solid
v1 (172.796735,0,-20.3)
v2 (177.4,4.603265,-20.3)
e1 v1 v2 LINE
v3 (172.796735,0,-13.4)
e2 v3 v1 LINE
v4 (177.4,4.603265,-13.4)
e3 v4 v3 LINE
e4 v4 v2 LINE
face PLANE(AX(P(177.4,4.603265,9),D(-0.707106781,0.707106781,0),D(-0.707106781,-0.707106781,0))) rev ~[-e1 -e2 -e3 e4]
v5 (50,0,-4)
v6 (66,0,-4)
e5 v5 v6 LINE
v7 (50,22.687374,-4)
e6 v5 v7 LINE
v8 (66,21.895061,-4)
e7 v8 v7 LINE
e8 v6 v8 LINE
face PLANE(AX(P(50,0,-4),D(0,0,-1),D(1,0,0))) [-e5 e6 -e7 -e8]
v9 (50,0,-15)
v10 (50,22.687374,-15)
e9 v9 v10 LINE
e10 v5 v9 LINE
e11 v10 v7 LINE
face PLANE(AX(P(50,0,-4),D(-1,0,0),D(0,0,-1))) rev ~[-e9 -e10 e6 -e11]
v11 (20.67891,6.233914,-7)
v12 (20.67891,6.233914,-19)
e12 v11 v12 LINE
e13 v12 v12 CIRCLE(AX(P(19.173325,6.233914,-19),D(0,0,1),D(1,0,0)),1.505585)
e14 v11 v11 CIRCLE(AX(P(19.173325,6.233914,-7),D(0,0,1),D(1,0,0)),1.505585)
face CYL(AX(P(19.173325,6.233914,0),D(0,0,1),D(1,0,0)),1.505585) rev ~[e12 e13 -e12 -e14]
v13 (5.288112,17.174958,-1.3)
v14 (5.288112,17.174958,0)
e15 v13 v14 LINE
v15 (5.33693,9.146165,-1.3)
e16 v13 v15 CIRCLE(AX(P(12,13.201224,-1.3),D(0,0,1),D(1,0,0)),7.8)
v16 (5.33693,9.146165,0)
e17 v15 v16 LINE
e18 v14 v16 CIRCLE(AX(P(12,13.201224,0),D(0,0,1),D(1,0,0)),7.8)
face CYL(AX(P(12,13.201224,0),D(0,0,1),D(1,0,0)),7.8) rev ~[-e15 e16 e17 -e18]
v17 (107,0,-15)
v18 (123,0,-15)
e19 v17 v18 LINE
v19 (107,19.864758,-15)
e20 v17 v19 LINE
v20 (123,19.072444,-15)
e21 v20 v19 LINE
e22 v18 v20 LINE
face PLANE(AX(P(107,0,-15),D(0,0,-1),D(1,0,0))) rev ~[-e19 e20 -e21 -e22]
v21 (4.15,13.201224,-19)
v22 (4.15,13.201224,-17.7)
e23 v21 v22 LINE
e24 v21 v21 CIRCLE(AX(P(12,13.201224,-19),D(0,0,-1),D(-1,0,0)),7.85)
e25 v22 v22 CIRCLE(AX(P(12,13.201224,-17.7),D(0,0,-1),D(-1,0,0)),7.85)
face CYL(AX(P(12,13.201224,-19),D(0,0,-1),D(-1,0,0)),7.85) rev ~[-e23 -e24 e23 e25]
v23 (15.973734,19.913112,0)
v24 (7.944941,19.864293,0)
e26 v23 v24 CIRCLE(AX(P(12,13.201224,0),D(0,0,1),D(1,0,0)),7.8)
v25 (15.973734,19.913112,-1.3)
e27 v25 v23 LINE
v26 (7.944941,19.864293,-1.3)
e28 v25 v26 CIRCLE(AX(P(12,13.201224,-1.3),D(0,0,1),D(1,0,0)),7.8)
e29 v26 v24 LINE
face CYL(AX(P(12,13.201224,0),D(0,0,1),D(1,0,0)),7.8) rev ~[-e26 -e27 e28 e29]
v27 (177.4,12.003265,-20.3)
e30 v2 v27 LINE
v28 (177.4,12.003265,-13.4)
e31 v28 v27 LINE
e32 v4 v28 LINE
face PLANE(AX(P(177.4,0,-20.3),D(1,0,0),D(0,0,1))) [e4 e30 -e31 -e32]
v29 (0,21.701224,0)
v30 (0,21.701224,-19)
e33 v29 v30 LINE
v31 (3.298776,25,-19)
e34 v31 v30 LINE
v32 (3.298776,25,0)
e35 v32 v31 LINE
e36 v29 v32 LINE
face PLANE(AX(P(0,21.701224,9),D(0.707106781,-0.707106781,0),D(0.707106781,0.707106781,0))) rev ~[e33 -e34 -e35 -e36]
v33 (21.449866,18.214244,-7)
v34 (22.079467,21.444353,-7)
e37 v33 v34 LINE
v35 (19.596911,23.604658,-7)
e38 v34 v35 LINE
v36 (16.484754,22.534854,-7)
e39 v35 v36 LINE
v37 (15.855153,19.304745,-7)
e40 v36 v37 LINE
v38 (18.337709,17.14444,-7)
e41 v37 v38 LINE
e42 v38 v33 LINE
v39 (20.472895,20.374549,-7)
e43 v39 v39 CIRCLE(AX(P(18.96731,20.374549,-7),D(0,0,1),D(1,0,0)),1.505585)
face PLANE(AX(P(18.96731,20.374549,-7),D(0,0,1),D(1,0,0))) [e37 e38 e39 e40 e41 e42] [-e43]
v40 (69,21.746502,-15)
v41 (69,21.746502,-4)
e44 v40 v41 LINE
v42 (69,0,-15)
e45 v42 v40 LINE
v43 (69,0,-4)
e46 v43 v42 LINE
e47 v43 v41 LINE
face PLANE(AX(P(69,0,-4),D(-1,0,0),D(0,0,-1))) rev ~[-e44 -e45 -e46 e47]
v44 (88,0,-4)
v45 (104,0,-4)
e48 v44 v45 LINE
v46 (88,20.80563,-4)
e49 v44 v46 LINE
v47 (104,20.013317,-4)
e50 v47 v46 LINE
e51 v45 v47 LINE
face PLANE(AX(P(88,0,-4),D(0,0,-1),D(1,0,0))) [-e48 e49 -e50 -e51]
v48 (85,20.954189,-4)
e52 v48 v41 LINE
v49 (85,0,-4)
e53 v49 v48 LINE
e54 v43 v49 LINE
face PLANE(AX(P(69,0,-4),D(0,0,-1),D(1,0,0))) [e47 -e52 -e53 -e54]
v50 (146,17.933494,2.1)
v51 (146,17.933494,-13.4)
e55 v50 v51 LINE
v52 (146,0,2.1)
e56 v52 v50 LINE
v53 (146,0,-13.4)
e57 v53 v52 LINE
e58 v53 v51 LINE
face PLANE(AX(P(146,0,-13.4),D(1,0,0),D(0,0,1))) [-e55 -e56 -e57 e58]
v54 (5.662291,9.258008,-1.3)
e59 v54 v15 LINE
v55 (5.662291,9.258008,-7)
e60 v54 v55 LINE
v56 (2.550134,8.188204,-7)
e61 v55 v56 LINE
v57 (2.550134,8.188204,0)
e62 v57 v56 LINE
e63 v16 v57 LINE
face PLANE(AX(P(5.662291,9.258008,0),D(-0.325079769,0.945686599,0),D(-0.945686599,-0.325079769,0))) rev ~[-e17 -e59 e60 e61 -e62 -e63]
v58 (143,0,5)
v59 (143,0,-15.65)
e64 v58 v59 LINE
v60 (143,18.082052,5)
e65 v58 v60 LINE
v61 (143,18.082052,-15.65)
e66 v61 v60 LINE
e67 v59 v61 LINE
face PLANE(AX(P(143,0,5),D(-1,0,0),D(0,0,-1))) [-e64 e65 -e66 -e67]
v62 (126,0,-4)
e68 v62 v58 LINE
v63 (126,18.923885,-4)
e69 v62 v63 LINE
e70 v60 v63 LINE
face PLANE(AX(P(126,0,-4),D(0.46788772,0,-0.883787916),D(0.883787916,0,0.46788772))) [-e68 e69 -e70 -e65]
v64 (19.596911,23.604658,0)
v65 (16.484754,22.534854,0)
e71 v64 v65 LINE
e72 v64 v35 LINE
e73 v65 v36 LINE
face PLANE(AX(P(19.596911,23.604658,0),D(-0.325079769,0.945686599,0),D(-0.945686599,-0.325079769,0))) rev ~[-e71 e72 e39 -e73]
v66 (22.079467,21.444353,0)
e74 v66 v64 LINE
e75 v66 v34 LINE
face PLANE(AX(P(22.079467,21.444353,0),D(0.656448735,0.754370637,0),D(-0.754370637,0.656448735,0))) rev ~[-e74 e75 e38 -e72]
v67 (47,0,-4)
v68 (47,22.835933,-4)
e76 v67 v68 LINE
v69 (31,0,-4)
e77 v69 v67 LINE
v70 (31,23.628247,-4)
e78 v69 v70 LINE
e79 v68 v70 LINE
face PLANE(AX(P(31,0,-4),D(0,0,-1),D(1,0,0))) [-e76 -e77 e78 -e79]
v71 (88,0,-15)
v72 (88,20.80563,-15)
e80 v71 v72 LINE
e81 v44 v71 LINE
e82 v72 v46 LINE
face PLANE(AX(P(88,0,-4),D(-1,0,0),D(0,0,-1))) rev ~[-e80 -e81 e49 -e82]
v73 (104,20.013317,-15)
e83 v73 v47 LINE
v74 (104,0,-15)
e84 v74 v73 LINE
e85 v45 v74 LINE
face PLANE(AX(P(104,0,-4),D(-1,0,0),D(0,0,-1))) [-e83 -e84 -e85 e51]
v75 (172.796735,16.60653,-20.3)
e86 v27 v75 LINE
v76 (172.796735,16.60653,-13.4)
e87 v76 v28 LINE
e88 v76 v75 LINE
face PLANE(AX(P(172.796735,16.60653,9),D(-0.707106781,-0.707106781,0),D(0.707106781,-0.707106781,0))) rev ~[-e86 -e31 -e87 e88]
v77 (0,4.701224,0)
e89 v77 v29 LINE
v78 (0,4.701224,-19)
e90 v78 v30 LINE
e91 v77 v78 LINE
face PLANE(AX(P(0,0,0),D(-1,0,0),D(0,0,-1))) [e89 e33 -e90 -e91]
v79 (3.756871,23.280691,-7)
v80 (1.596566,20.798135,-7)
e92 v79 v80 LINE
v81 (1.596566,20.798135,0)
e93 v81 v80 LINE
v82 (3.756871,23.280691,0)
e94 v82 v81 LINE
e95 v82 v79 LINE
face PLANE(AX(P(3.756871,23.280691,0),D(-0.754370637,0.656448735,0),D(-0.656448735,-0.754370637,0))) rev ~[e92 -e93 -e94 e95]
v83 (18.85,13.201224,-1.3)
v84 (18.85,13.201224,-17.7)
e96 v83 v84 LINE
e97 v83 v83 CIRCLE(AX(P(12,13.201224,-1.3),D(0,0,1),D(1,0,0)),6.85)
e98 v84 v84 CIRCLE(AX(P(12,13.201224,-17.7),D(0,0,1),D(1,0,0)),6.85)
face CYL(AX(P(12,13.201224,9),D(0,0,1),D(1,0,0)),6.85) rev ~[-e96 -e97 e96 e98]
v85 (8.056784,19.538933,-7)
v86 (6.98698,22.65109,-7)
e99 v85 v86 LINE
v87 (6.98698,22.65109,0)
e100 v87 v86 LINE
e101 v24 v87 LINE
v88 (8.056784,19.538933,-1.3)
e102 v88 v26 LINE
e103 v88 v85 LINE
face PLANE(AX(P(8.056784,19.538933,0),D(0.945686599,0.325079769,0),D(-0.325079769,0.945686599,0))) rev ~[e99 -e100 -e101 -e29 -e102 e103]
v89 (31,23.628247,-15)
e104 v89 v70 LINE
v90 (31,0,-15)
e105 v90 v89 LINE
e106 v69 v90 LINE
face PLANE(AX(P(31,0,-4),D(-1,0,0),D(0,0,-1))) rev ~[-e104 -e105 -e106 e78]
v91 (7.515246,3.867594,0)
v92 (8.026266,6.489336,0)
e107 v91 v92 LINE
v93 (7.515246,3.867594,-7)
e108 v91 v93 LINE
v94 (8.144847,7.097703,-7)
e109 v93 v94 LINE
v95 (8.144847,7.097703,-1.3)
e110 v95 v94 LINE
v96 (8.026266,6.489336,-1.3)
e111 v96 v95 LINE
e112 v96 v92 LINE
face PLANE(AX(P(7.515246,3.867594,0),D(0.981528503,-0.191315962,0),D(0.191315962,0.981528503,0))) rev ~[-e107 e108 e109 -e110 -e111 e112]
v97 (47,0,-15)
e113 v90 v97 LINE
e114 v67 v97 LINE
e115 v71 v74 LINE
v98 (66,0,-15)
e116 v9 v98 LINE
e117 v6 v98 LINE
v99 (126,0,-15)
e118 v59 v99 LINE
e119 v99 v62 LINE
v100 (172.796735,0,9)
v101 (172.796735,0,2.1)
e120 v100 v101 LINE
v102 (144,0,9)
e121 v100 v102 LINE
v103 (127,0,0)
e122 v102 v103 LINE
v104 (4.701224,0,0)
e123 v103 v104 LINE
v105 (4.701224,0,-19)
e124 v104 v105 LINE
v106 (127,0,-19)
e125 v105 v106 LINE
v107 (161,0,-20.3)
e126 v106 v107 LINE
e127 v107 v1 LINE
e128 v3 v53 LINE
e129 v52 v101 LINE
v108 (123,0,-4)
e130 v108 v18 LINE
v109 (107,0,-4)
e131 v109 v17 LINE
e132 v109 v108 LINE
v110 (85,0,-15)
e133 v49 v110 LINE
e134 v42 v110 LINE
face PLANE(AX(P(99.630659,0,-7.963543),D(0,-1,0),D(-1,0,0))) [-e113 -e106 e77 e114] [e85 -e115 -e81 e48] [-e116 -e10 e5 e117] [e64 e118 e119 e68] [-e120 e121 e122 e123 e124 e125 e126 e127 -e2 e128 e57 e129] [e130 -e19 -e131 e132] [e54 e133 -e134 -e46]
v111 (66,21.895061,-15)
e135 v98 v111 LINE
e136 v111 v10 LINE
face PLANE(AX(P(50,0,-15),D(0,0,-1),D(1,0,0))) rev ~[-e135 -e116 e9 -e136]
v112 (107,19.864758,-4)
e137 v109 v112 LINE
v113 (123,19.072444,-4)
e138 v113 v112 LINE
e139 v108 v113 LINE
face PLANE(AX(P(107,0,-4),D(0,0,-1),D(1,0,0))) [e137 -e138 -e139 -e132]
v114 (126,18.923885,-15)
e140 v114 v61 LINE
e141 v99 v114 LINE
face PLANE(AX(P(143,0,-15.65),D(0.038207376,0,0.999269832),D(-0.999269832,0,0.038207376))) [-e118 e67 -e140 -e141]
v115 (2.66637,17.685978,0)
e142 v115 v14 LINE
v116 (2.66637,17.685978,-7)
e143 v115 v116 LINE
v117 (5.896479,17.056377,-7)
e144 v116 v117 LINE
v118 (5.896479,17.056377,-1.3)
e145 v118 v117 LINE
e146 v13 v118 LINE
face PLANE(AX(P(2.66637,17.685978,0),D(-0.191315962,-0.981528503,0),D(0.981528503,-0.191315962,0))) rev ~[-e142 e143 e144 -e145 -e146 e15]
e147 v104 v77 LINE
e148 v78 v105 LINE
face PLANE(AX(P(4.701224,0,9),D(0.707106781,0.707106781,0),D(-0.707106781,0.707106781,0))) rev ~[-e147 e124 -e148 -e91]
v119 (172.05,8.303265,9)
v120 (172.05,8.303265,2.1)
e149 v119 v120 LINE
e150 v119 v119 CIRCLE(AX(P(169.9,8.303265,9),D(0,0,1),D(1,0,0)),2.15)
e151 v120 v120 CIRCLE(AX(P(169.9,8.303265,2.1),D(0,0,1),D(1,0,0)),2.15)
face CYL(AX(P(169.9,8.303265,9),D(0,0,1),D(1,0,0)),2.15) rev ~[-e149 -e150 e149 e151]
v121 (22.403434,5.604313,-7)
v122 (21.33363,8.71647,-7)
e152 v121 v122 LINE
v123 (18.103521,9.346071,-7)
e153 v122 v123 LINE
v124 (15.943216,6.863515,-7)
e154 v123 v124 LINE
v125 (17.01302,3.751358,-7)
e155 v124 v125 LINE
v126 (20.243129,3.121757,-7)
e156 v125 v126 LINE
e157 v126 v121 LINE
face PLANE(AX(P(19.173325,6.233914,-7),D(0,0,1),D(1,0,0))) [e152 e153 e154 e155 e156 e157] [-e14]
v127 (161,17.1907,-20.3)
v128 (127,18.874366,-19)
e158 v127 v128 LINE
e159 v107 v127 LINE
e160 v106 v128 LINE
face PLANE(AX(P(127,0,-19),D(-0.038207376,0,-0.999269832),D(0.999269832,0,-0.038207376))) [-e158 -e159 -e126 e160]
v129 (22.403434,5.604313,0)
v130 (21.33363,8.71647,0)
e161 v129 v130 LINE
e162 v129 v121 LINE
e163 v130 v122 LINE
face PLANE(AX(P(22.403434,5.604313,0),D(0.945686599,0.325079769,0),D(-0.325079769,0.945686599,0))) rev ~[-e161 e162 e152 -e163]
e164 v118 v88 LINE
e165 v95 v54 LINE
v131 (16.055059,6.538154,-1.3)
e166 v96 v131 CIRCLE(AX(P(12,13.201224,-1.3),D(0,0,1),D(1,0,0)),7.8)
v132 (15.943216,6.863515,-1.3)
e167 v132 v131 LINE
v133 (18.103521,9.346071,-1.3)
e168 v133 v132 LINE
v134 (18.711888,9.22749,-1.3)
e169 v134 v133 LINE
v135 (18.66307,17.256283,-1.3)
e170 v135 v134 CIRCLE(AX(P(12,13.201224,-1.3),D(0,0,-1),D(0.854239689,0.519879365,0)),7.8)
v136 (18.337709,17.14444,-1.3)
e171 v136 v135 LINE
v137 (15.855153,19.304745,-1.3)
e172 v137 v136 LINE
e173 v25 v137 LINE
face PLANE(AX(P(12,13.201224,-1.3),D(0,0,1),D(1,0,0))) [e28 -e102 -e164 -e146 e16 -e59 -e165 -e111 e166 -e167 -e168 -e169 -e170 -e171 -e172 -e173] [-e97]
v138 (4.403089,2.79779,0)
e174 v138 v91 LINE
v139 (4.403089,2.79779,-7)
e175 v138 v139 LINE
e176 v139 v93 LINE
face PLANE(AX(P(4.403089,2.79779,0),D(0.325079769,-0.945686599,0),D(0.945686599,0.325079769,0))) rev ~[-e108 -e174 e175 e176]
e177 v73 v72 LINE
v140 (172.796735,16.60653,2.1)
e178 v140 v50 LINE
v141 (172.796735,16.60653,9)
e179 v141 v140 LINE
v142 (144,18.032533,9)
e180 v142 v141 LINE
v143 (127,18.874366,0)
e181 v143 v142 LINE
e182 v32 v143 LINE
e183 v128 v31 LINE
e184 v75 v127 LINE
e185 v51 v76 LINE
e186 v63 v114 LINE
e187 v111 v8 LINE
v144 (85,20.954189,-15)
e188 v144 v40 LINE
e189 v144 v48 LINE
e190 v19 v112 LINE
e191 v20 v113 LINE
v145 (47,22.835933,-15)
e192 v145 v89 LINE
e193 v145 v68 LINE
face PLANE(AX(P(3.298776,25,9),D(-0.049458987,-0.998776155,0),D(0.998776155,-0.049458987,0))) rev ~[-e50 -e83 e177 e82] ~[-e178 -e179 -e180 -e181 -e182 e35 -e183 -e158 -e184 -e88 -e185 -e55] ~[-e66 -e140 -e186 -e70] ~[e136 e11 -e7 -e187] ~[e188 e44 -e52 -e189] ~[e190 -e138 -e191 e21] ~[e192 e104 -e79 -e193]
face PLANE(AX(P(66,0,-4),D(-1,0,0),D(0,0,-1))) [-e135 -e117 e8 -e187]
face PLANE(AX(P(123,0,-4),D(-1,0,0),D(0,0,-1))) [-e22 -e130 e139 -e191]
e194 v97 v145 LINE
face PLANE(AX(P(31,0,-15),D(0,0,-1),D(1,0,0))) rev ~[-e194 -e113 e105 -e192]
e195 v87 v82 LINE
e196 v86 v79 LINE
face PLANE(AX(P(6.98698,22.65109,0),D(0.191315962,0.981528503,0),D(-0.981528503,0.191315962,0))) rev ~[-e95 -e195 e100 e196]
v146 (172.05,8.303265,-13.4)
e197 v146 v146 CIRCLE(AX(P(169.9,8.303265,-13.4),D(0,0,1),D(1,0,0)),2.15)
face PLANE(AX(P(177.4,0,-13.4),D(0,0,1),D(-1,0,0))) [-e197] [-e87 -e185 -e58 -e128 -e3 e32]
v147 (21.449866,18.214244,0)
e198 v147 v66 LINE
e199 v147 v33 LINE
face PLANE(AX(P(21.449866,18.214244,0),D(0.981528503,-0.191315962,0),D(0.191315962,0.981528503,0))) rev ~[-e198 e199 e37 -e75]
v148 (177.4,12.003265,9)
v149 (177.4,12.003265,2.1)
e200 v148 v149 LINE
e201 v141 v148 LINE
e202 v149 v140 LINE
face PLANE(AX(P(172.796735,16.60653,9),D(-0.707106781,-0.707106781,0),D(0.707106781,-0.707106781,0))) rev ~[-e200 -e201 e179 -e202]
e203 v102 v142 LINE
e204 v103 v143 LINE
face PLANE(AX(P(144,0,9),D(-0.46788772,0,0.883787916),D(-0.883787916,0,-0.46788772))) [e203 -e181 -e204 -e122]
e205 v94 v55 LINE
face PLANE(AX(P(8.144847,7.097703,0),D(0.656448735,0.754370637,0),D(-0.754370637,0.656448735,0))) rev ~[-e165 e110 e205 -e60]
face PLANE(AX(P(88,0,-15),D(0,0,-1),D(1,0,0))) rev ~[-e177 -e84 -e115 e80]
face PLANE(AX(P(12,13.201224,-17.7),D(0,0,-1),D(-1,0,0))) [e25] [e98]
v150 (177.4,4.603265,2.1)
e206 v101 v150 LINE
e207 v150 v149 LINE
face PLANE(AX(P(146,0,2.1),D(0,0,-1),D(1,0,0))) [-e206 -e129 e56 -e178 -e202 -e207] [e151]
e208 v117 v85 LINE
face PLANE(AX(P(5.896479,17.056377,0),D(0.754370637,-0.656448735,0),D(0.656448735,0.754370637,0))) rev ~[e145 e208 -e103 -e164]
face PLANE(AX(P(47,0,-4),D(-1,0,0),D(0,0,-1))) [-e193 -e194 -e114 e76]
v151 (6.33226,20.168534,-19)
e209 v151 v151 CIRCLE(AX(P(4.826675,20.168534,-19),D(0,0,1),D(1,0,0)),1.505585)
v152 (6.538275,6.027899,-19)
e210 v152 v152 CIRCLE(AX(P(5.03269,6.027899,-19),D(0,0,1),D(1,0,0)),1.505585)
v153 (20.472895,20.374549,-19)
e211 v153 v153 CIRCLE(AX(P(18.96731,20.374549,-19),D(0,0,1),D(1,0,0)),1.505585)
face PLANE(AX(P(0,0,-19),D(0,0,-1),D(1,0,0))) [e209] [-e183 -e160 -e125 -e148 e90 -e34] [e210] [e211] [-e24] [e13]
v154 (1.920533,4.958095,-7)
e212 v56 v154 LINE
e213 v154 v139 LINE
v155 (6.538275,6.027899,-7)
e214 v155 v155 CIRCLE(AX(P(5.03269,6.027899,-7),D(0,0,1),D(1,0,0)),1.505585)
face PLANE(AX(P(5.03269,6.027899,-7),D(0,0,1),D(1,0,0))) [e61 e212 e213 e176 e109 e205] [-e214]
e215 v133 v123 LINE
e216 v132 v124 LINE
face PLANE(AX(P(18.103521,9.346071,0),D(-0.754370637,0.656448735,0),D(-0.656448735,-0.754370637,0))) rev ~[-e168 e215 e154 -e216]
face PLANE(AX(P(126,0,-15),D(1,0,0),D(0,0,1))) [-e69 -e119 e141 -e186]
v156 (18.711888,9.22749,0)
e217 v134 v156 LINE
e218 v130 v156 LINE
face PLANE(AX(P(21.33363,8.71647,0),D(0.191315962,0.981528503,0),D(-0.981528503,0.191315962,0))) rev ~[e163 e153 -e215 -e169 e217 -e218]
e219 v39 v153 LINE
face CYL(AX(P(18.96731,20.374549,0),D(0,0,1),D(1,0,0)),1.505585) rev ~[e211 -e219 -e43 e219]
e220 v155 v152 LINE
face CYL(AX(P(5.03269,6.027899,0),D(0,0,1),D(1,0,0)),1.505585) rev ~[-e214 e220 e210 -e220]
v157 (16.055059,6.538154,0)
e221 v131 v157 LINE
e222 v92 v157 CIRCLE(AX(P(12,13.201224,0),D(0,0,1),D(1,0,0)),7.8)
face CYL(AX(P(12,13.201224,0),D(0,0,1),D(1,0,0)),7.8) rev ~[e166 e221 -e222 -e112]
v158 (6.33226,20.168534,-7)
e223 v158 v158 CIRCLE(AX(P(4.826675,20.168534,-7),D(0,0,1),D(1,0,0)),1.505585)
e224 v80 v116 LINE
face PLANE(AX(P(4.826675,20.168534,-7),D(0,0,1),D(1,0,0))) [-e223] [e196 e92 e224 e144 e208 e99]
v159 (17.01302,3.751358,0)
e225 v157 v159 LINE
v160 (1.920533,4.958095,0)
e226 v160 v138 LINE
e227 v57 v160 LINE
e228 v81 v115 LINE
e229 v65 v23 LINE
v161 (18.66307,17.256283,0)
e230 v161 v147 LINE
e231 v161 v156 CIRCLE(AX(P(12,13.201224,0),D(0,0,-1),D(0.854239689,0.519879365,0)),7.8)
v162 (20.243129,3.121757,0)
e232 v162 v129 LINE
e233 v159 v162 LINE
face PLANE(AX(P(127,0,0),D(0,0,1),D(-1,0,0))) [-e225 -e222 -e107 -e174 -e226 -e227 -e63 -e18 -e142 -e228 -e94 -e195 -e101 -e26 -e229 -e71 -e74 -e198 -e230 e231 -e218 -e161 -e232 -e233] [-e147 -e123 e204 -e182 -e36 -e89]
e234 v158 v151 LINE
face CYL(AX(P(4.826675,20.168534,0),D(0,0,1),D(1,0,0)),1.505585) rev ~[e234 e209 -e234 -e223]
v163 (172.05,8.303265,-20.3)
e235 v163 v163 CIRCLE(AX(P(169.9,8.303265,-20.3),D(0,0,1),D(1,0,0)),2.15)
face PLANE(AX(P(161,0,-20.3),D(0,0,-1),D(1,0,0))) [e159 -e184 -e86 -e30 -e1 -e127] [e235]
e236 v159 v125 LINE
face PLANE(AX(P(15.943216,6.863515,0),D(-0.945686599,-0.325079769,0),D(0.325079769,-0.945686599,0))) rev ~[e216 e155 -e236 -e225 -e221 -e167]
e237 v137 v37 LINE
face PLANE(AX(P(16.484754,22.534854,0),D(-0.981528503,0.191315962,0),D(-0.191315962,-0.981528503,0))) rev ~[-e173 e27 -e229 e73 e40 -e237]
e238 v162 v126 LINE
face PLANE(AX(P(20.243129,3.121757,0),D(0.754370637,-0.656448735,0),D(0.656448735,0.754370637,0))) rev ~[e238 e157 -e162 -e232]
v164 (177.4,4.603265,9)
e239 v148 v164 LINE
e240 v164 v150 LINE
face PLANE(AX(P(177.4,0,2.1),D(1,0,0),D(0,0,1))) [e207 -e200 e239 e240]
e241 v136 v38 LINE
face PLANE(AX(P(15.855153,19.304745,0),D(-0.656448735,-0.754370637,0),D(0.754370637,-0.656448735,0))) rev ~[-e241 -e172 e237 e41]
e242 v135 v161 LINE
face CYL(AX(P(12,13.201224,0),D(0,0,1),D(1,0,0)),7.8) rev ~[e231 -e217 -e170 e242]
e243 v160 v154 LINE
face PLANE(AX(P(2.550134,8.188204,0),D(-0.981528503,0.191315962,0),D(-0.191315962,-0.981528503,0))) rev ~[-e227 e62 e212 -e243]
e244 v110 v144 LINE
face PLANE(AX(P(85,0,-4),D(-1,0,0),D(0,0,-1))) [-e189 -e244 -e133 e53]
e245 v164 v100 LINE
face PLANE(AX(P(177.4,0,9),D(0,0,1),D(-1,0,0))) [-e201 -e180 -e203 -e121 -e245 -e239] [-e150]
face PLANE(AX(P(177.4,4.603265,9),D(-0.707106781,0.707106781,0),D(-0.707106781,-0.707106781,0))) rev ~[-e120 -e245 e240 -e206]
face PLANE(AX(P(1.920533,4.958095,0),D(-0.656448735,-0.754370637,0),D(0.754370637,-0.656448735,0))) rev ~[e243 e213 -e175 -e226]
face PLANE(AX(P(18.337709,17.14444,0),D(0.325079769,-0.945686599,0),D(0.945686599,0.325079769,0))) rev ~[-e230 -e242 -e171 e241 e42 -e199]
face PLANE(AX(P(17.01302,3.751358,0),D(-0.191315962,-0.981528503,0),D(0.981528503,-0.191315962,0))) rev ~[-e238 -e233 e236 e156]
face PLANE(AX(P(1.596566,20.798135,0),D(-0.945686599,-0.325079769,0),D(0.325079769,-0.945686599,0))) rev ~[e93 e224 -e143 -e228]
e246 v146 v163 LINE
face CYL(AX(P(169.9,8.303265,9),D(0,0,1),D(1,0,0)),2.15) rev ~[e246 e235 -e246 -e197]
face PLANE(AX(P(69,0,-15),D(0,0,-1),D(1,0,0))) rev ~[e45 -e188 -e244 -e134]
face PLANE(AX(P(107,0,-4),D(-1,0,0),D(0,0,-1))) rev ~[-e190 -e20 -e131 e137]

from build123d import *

# Parameters (mm, degrees)
SKETCH_1_W           = 16
SKETCH_1_H           = 11
EXTRUDE_1_DEPTH      = 25
SKETCH_2_OUTSIDE_W   = 215.706
SKETCH_2_OUTSIDE_H   = 63.306
SKETCH_2_OUTSIDE_R   = 2.15
SKETCH_2_OUTSIDE_R_2 = 6.85
CUT_EXTRUDE_1_DEPTH  = 182.533054841
SKETCH_3_R           = 7.8
CUT_EXTRUDE_2_DEPTH  = 1.3
SKETCH_4_R           = 7.85
CUT_EXTRUDE_3_DEPTH  = 1.3
CUT_EXTRUDE_5_DEPTH  = 7
SKETCH_5_3_R         = 1.50558517
CUT_EXTRUDE_6_DEPTH  = 181.299334441


with BuildPart() as part:
    # 草图1 → 凸台-拉伸1 (new body)
    with BuildSketch(Plane(origin=(0, 0, 0), x_dir=(1, 0, 0), z_dir=(0, 1, 0))):
        Polygon((0, 0), (0, 19), (127, 19), (161, 20.3), (177.4, 20.3), (177.4, 13.4), (146, 13.4), (146, -2.1), (177.4, -2.1), (177.4, -9), (144, -9), (127, 0), align=None)
        with Locations((39, 9.5)):
            Rectangle(SKETCH_1_W, SKETCH_1_H, mode=Mode.SUBTRACT)
        Polygon((126, 15), (126, 4), (143, -5), (143, 15.65), align=None, mode=Mode.SUBTRACT)
        with Locations((58, 9.5)):
            Rectangle(SKETCH_1_W, SKETCH_1_H, mode=Mode.SUBTRACT)
        with Locations((77, 9.5)):
            Rectangle(SKETCH_1_W, SKETCH_1_H, mode=Mode.SUBTRACT)
        with Locations((96, 9.5)):
            Rectangle(SKETCH_1_W, SKETCH_1_H, mode=Mode.SUBTRACT)
        with Locations((115, 9.5)):
            Rectangle(SKETCH_1_W, SKETCH_1_H, mode=Mode.SUBTRACT)
    extrude(amount=EXTRUDE_1_DEPTH)

    # 草图2 outside → 切除-拉伸1 (cut, through all)
    # profile 1 of 3: a face of its own
    with BuildSketch(Plane.XY.offset(9)):
        with Locations((88.7, 12.5)):
            Rectangle(SKETCH_2_OUTSIDE_W, SKETCH_2_OUTSIDE_H)
        Polygon((0, 21.701223904), (3.298776096, 25), (172.796734854, 16.606530291), (177.4, 12.003265146), (177.4, 4.603265146), (172.796734854, 0), (4.701223904, 0), (0, 4.701223904), align=None, mode=Mode.SUBTRACT)
    # profile 2 of 3: a face of its own
    with BuildSketch(Plane.XY.offset(9)):
        with Locations((169.9, 8.303265146)):
            Circle(SKETCH_2_OUTSIDE_R)
    # profile 3 of 3: a face of its own
    with BuildSketch(Plane.XY.offset(9)):
        with Locations((12, 13.201223904)):
            Circle(SKETCH_2_OUTSIDE_R_2)
    extrude(amount=-CUT_EXTRUDE_1_DEPTH, mode=Mode.SUBTRACT)

    # 草图3 → 切除-拉伸2 (cut)
    with BuildSketch(Plane.XY):
        with Locations((12, 13.201223904)):
            Circle(SKETCH_3_R)
    extrude(amount=-CUT_EXTRUDE_2_DEPTH, mode=Mode.SUBTRACT)

    # 草图4 → 切除-拉伸3 (cut)
    with BuildSketch(Plane(origin=(0, 0, -19), x_dir=(-1, 0, 0), z_dir=(0, 0, -1))):
        with Locations((-12, 13.201223904)):
            Circle(SKETCH_4_R)
    extrude(amount=-CUT_EXTRUDE_3_DEPTH, mode=Mode.SUBTRACT)

    # 草图5 → 切除-拉伸5 (cut)
    with BuildSketch(Plane.XY):
        Polygon((15.855153168, 19.304745085), (18.337708884, 17.144440218), (21.449865637, 18.214244102), (22.079466672, 21.444352852), (19.596910956, 23.604657718), (16.484754204, 22.534853834), align=None)
        Polygon((5.896478819, 17.056377072), (8.056783686, 19.538932788), (6.986979802, 22.651089541), (3.756871052, 23.280690576), (1.596566186, 20.79813486), (2.66637007, 17.685978108), align=None)
        Polygon((18.103521181, 9.346070736), (15.943216314, 6.86351502), (17.013020198, 3.751358267), (20.243128948, 3.121757232), (22.403433814, 5.604312948), (21.33362993, 8.7164697), align=None)
        Polygon((8.144846832, 7.097702723), (5.662291116, 9.25800759), (2.550134363, 8.188203706), (1.920533328, 4.958094956), (4.403089044, 2.79779009), (7.515245796, 3.867593974), align=None)
    extrude(amount=-CUT_EXTRUDE_5_DEPTH, mode=Mode.SUBTRACT)

    # 草图5<3> → 切除-拉伸6 (cut, through all)
    with BuildSketch(Plane.XY):
        with Locations((5.03269008, 6.02789884)):
            Circle(SKETCH_5_3_R)
        with Locations((4.826674936, 20.168533824)):
            Circle(SKETCH_5_3_R)
        with Locations((18.96730992, 20.374548968)):
            Circle(SKETCH_5_3_R)
        with Locations((19.173325064, 6.233913984)):
            Circle(SKETCH_5_3_R)
    extrude(amount=-CUT_EXTRUDE_6_DEPTH, mode=Mode.SUBTRACT)


solid = part.part
